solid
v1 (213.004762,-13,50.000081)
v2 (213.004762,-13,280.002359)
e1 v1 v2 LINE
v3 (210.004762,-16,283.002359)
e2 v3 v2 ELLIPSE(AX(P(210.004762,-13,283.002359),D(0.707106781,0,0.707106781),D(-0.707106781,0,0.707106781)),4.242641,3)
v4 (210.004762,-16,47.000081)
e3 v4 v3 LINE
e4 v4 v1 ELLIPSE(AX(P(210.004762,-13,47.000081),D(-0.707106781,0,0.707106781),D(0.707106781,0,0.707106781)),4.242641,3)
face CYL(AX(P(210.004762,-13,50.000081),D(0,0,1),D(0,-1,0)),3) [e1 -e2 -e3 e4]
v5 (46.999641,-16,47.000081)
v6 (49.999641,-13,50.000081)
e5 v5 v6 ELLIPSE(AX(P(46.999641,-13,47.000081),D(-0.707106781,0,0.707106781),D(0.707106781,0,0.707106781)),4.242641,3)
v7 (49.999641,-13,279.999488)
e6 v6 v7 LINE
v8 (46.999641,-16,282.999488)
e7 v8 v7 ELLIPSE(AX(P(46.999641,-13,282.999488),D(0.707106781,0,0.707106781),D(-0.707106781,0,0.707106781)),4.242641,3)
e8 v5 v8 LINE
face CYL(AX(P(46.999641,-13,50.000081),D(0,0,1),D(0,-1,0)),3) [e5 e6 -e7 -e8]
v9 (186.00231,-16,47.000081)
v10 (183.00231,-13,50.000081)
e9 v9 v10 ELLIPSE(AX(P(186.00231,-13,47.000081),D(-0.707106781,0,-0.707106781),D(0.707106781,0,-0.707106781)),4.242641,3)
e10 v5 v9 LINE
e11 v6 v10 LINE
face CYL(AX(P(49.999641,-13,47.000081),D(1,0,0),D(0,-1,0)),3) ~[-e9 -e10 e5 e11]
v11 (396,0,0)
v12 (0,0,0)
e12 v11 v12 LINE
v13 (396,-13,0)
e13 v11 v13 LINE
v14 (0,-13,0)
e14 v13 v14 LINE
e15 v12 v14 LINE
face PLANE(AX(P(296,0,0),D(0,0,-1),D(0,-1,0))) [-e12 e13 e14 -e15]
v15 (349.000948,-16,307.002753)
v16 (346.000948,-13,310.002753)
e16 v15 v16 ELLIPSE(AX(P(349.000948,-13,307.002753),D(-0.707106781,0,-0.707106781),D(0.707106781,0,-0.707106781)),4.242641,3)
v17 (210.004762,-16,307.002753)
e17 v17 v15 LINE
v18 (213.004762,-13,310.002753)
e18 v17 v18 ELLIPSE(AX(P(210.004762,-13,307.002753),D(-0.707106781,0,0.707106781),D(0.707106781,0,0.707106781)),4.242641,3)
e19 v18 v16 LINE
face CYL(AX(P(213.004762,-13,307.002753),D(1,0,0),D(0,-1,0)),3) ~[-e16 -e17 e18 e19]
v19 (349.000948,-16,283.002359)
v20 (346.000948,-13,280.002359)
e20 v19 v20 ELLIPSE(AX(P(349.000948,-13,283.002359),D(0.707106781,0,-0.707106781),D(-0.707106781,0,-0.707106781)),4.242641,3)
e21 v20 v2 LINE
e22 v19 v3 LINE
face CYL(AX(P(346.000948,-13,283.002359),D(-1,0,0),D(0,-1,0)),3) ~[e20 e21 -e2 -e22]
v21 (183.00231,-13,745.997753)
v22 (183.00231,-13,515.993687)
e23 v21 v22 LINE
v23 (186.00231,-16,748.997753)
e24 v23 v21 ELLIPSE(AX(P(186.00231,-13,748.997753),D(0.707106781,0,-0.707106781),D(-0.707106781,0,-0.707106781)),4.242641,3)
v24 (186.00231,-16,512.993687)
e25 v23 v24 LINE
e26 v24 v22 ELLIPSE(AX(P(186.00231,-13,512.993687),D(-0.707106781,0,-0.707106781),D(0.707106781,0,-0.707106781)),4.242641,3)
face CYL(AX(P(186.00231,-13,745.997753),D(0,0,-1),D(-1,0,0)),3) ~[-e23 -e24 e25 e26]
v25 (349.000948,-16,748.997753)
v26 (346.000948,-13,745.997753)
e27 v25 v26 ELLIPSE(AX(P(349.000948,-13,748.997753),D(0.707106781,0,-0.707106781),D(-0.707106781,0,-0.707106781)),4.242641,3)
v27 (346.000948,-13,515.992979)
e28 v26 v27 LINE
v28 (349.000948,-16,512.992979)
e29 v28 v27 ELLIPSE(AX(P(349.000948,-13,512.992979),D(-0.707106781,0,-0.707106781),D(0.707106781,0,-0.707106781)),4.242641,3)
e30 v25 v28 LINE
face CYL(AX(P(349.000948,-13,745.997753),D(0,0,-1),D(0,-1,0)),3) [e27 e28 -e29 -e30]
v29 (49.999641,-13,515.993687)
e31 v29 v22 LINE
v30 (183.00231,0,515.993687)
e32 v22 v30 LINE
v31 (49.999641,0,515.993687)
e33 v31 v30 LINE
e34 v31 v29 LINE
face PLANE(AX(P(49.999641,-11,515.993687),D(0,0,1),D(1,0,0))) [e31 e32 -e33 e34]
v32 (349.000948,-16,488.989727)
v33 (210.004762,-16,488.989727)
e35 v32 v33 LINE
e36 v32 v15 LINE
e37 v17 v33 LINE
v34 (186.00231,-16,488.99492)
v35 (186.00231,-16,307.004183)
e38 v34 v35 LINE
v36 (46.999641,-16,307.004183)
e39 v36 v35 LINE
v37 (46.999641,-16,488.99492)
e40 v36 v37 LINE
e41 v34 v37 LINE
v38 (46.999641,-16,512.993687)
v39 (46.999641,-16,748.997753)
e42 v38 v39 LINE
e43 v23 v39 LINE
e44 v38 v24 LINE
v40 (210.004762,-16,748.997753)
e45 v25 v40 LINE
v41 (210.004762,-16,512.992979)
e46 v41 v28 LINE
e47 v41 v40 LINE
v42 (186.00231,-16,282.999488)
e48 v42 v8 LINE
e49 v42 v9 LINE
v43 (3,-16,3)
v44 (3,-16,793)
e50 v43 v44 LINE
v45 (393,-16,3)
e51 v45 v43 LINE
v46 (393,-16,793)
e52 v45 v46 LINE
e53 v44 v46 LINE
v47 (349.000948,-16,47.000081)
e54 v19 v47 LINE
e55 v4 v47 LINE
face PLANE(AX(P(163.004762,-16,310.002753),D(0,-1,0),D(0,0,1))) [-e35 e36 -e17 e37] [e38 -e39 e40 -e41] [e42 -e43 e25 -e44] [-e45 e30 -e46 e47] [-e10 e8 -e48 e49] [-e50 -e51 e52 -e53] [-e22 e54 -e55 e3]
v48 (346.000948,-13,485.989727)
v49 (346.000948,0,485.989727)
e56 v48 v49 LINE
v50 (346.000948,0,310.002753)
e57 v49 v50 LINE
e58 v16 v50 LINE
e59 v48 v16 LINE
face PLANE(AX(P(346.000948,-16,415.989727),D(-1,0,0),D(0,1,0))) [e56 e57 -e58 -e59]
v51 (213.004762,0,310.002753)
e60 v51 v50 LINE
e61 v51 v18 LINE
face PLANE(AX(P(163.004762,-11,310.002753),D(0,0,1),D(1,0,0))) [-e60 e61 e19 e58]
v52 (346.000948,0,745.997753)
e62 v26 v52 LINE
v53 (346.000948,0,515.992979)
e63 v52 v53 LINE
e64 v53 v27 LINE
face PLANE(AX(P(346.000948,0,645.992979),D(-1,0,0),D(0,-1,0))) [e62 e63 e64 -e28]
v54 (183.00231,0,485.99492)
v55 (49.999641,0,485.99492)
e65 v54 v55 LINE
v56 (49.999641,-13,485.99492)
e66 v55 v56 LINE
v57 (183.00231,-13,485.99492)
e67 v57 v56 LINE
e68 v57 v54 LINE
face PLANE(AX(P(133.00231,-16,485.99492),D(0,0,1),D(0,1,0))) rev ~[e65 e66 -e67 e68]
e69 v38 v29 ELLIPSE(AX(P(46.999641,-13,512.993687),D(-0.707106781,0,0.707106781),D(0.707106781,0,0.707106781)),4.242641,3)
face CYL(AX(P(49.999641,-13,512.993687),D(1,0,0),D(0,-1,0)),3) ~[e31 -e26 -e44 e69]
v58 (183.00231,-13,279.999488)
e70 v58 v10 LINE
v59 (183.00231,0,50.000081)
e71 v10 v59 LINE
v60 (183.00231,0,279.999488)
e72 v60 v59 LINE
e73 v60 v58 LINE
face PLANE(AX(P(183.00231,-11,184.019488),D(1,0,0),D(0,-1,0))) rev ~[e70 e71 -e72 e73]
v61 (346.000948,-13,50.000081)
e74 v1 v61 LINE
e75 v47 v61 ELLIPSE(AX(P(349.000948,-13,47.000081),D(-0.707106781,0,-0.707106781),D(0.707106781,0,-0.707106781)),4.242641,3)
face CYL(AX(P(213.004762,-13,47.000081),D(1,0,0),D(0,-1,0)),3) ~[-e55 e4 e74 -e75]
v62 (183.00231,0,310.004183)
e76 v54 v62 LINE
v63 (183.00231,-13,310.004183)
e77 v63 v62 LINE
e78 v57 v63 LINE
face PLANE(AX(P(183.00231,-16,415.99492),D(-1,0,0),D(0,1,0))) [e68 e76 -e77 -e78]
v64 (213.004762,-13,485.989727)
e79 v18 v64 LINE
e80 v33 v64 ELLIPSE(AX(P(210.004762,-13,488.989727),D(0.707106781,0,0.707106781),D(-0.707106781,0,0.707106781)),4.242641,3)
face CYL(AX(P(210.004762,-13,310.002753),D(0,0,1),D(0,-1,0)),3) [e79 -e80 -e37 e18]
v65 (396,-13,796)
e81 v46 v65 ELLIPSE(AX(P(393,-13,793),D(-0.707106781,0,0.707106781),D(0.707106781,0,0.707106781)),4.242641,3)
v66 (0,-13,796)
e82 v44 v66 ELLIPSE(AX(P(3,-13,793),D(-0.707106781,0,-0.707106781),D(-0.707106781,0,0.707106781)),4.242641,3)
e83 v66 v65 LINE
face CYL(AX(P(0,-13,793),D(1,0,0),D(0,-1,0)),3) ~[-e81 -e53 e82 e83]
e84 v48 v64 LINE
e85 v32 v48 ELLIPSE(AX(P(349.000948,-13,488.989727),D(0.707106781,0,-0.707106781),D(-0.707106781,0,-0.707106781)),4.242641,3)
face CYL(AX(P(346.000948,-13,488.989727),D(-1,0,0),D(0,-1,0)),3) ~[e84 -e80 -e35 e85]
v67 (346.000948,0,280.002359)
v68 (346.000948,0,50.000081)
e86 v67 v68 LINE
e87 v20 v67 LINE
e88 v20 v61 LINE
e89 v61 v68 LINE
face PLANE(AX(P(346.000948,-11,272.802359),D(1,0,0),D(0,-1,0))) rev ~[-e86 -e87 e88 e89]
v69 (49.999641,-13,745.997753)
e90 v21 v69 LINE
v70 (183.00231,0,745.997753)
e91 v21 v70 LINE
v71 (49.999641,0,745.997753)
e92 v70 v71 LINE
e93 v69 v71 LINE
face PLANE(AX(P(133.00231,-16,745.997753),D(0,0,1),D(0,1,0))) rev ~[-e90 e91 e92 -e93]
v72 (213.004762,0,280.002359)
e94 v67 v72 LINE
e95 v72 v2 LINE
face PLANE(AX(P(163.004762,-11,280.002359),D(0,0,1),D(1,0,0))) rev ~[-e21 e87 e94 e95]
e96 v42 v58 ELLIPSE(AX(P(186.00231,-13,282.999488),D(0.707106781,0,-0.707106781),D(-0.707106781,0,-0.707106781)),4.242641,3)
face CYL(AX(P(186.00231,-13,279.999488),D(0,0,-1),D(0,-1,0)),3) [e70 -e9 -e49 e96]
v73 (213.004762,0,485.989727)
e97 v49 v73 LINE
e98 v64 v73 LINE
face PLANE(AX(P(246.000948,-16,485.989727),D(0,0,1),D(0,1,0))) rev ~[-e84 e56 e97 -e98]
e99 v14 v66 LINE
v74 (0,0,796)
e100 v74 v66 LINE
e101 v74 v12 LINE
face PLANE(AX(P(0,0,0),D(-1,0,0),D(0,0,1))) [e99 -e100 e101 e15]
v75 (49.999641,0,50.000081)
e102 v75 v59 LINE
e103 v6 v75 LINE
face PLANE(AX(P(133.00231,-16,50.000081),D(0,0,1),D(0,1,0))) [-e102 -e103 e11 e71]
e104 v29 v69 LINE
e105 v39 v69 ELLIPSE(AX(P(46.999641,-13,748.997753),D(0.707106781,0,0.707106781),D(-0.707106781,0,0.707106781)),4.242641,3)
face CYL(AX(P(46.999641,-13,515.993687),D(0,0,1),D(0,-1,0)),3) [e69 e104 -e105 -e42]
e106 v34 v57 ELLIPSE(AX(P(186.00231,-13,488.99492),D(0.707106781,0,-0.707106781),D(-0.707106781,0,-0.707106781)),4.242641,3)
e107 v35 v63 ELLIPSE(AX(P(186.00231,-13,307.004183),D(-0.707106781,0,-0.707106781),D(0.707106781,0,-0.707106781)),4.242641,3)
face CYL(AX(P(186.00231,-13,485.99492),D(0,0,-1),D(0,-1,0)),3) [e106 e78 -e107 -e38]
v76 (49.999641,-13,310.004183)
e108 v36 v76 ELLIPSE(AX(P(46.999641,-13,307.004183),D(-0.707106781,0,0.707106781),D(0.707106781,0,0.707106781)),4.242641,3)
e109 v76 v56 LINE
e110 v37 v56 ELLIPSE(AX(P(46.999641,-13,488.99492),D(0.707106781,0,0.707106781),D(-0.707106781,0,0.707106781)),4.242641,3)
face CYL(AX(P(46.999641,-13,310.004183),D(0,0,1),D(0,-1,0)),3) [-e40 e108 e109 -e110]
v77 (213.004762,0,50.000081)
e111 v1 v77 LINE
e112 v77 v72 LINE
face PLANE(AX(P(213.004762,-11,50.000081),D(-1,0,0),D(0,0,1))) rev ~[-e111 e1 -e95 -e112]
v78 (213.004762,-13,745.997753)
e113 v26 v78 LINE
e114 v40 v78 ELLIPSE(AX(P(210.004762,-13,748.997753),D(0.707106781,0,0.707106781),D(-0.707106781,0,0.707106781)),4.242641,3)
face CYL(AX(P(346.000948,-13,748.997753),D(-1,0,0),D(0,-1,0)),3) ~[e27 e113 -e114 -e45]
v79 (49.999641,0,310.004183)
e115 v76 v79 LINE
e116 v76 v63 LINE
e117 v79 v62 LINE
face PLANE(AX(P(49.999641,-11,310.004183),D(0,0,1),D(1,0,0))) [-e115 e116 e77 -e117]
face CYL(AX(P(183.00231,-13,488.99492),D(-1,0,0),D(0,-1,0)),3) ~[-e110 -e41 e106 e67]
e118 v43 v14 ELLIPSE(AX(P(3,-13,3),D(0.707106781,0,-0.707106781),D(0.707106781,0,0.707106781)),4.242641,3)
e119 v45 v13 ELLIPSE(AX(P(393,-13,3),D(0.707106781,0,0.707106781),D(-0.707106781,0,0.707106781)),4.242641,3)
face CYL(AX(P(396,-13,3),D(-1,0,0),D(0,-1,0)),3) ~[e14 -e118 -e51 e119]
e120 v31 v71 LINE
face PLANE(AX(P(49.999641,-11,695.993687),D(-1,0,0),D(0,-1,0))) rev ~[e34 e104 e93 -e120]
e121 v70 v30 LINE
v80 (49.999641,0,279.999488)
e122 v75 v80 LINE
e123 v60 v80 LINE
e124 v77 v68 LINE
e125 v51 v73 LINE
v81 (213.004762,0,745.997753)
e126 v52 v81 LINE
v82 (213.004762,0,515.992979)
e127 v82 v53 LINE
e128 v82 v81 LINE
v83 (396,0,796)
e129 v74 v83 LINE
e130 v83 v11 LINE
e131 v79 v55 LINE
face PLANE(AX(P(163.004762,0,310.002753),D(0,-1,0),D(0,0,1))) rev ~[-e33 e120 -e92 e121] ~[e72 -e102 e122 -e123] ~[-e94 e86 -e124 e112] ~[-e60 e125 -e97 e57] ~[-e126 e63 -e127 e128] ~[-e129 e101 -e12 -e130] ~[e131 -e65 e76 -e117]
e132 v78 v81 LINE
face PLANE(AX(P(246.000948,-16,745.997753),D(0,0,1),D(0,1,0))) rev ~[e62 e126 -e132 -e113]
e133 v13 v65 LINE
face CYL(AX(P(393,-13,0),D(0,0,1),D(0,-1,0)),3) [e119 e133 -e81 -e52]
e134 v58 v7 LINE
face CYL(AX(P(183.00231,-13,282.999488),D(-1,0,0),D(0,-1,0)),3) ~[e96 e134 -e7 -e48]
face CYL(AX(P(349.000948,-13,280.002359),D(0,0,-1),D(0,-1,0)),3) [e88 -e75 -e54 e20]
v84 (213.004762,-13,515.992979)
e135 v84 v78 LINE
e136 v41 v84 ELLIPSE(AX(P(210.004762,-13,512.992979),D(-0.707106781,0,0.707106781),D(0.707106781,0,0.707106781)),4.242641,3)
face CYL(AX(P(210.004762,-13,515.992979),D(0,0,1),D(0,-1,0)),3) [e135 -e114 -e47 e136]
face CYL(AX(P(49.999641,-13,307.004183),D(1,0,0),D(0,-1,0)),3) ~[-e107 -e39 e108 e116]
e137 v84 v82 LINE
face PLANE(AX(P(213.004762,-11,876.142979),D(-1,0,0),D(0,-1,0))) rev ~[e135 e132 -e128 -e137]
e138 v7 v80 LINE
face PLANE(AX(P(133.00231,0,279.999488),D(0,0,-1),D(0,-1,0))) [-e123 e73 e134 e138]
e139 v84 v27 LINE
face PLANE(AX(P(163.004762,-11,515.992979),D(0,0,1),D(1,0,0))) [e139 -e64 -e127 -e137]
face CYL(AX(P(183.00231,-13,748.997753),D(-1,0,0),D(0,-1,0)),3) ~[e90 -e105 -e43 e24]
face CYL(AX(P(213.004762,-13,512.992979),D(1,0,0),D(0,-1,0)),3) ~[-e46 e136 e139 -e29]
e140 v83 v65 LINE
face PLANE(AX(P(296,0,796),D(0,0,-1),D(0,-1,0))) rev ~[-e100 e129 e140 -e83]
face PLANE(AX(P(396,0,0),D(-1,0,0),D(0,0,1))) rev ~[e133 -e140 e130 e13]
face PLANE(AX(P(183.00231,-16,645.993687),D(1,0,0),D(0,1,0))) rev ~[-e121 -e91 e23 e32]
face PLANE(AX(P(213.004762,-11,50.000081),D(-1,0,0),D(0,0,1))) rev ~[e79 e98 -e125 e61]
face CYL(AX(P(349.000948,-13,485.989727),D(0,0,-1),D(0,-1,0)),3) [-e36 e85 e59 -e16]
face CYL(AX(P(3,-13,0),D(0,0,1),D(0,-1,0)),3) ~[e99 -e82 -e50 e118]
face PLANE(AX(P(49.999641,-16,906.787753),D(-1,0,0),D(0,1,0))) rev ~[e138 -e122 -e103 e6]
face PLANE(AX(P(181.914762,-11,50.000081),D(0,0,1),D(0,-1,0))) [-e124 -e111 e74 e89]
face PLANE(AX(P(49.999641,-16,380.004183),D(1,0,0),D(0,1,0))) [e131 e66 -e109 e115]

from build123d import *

# Parameters (mm, degrees)
F0_W      = 28.8499742746
F0_H      = 37.8827601671
F1_DEPTH  = 16
F2_DEPTH  = 296
F3_DEPTH  = 996
F4_W      = 199.8313069344
F4_H      = 801.1276721954
F5_DEPTH  = 5
F6_DEPTH  = 39.21
F7_DEPTH  = 2.24
F8_DEPTH  = 55.66
F9_DEPTH  = 1.59
F10_W     = 54.77245152
F10_H     = 895.9976721954
F11_DEPTH = 5
F12_DEPTH = 5.86
F13_DEPTH = 18.91
F14_W     = 83.0026693535
F14_H     = 34.9487662315
F14_H_2   = 55.274695158
F15_W     = 82.9961860609
F15_H     = 44.8832511902
F15_H_2   = 52.5203943253
F16_DEPTH = 5
F17_DEPTH = 300
F18_DEPTH = 300
F19_DEPTH = 324.79
F20_DEPTH = 324.79
F21_DEPTH = 250
F22_DEPTH = 250
F23_DEPTH = 100
F24_DEPTH = 100
F25_DEPTH = 50
F26_DEPTH = 50
F27_DEPTH = 134.02
F28_DEPTH = 100
F29_DEPTH = 100
F30_DEPTH = 100
F31_DEPTH = 50
F32_DEPTH = 54.95
F33_DEPTH = 50
F34_DEPTH = 109.29
F35_DEPTH = 14.88
F36_DEPTH = 230.15
F37_DEPTH = 230.15
F38_DEPTH = 22.52
F39_DEPTH = 77.2
F40_DEPTH = 77.2
F41_DEPTH = 11
F42_DEPTH = 200
F43_DEPTH = 200
F44_DEPTH = 200
F45_DEPTH = 70
F46_DEPTH = 70
F47_DEPTH = 70
F48_DEPTH = 70
F49_DEPTH = 100
F50_DEPTH = 50
F51_DEPTH = 100
F52_DEPTH = 50
F53_R     = 3


with BuildPart() as f1:
    # F0 (on Front) → F1 (new body)
    with BuildSketch(Plane.XZ):
        with Locations((14.4249871373, 18.9413800836)):
            Rectangle(F0_W, F0_H)
    extrude(amount=F1_DEPTH)

    # F2 (add): a face of the model
    f2_faces = [f1.faces().sort_by_distance(p)[0] for p in [
        (0, -8, 18.9413800836),
    ]]
    extrude(f2_faces, amount=-F2_DEPTH)

    # F3 (add): a face of the model
    f3_faces = [f1.faces().sort_by_distance(p)[0] for p in [
        (148, -8, 0),
    ]]
    extrude(f3_faces, amount=-F3_DEPTH)

    # F4 (on face) → F5 (cut)
    with BuildSketch(Plane.XZ.offset(16)):
        with Locations((148.3252942562, 506.2239170074)):
            Rectangle(F4_W, F4_H)
    extrude(amount=-F5_DEPTH, mode=Mode.SUBTRACT)

    # F6 (cut): a face of the model
    f6_faces = [f1.faces().sort_by_distance(p)[0] for p in [
        (148.3252942562, -13.5, 906.7877531052),
    ]]
    extrude(f6_faces, amount=-F6_DEPTH, mode=Mode.SUBTRACT)

    # F7 (add): a face of the model
    f7_faces = [f1.faces().sort_by_distance(p)[0] for p in [
        (248.2409477234, -13.5, 525.8289170074),
    ]]
    extrude(f7_faces, amount=F7_DEPTH)

    # F8 (cut): a face of the model
    f8_faces = [f1.faces().sort_by_distance(p)[0] for p in [
        (147.2052942562, -13.5, 105.6600809097),
    ]]
    extrude(f8_faces, amount=-F8_DEPTH, mode=Mode.SUBTRACT)

    # F9 (add): a face of the model
    f9_faces = [f1.faces().sort_by_distance(p)[0] for p in [
        (48.409640789, -13.5, 497.9989170074),
    ]]
    extrude(f9_faces, amount=F9_DEPTH)

    # F10 (on face) → F11 (join)
    with BuildSketch(Plane.XZ.offset(11)):
        with Locations((154.5285359025, 497.9989170074)):
            Rectangle(F10_W, F10_H)
    extrude(amount=F11_DEPTH)

    # F12 (cut): a face of the model
    f12_faces = [f1.faces().sort_by_distance(p)[0] for p in [
        (127.1423101425, -13.5, 497.9989170074),
    ]]
    extrude(f12_faces, amount=-F12_DEPTH, mode=Mode.SUBTRACT)

    # F13 (cut): a face of the model
    f13_faces = [f1.faces().sort_by_distance(p)[0] for p in [
        (181.9147616625, -13.5, 497.9989170074),
    ]]
    extrude(f13_faces, amount=-F13_DEPTH, mode=Mode.SUBTRACT)

    # F14 (on face) + F15 (on face) → F16 (join)
    with BuildSketch(Plane.XZ.offset(11)):
        with Locations((91.5009754658, 853.3093035221)):
            Rectangle(F14_W, F14_H)
        with Locations((91.5009754658, 511.6568356752)):
            Rectangle(F14_W, F14_H_2)
    with BuildSketch(Plane.XZ.offset(11)):
        with Locations((204.5028546929, 853.7013530731)):
            Rectangle(F15_W, F15_H)
        with Locations((204.5028546929, 576.5425562859)):
            Rectangle(F15_W, F15_H_2)
    extrude(amount=F16_DEPTH)

    # F17 (add): faces of the model
    f17_faces = [f1.faces().sort_by_distance(p)[0] for p in [
        (204.5028546929, -13.5, 550.2823591232),
        (91.5009754658, -13.5, 484.0194880962),
    ]]
    extrude(f17_faces, amount=F17_DEPTH)

    # F18 (cut): faces of the model
    f18_faces = [f1.faces().sort_by_distance(p)[0] for p in [
        (91.5009754658, -13.5, 539.2941832542),
        (204.5028546929, -13.5, 602.8027534485),
    ]]
    extrude(f18_faces, amount=-F18_DEPTH, mode=Mode.SUBTRACT)

    # F19 (add): a face of the model
    f19_faces = [f1.faces().sort_by_distance(p)[0] for p in [
        (91.5009754658, -13.5, 835.8349204063),
    ]]
    extrude(f19_faces, amount=F19_DEPTH)

    # F20 (cut): a face of the model
    f20_faces = [f1.faces().sort_by_distance(p)[0] for p in [
        (91.5009754658, -13.5, 870.7836866379),
    ]]
    extrude(f20_faces, amount=-F20_DEPTH, mode=Mode.SUBTRACT)

    # F21 (add): a face of the model
    f21_faces = [f1.faces().sort_by_distance(p)[0] for p in [
        (91.5009754658, -13.5, 239.2941832542),
    ]]
    extrude(f21_faces, amount=F21_DEPTH)

    # F22 (cut): a face of the model
    f22_faces = [f1.faces().sort_by_distance(p)[0] for p in [
        (91.5009754658, -13.5, 184.0194880962),
    ]]
    extrude(f22_faces, amount=-F22_DEPTH, mode=Mode.SUBTRACT)

    # F23 (add): a face of the model
    f23_faces = [f1.faces().sort_by_distance(p)[0] for p in [
        (91.5009754658, -13.5, 545.9936866379),
    ]]
    extrude(f23_faces, amount=F23_DEPTH)

    # F24 (cut): a face of the model
    f24_faces = [f1.faces().sort_by_distance(p)[0] for p in [
        (91.5009754658, -13.5, 511.0449204063),
    ]]
    extrude(f24_faces, amount=-F24_DEPTH, mode=Mode.SUBTRACT)

    # F25 (add): a face of the model
    f25_faces = [f1.faces().sort_by_distance(p)[0] for p in [
        (91.5009754658, -13.5, 645.9936866379),
    ]]
    extrude(f25_faces, amount=F25_DEPTH)

    # F26 (cut): a face of the model
    f26_faces = [f1.faces().sort_by_distance(p)[0] for p in [
        (91.5009754658, -13.5, 611.0449204063),
    ]]
    extrude(f26_faces, amount=-F26_DEPTH, mode=Mode.SUBTRACT)

    # F27 (add): a face of the model
    f27_faces = [f1.faces().sort_by_distance(p)[0] for p in [
        (91.5009754658, -13.5, 434.0194880962),
    ]]
    extrude(f27_faces, amount=F27_DEPTH)

    # F28 (cut): a face of the model
    f28_faces = [f1.faces().sort_by_distance(p)[0] for p in [
        (91.5009754658, -13.5, 299.9994880962),
    ]]
    extrude(f28_faces, amount=-F28_DEPTH, mode=Mode.SUBTRACT)

    # F29 (add): a face of the model
    f29_faces = [f1.faces().sort_by_distance(p)[0] for p in [
        (91.5009754658, -13.5, 661.0449204063),
    ]]
    extrude(f29_faces, amount=F29_DEPTH)

    # F30 (cut): a face of the model
    f30_faces = [f1.faces().sort_by_distance(p)[0] for p in [
        (91.5009754658, -13.5, 695.9936866379),
    ]]
    extrude(f30_faces, amount=-F30_DEPTH, mode=Mode.SUBTRACT)

    # F31 (add): a face of the model
    f31_faces = [f1.faces().sort_by_distance(p)[0] for p in [
        (91.5009754658, -13.5, 595.9936866379),
    ]]
    extrude(f31_faces, amount=F31_DEPTH)

    # F32 (cut): a face of the model
    f32_faces = [f1.faces().sort_by_distance(p)[0] for p in [
        (91.5009754658, -13.5, 561.0449204063),
    ]]
    extrude(f32_faces, amount=-F32_DEPTH, mode=Mode.SUBTRACT)

    # F33 (add): a face of the model
    f33_faces = [f1.faces().sort_by_distance(p)[0] for p in [
        (91.5009754658, -13.5, 399.9994880962),
    ]]
    extrude(f33_faces, amount=F33_DEPTH)

    # F34 (cut): a face of the model
    f34_faces = [f1.faces().sort_by_distance(p)[0] for p in [
        (91.5009754658, -13.5, 489.2941832542),
    ]]
    extrude(f34_faces, amount=-F34_DEPTH, mode=Mode.SUBTRACT)

    # F35 (cut): a face of the model
    f35_faces = [f1.faces().sort_by_distance(p)[0] for p in [
        (204.5028546929, -13.5, 831.259727478),
    ]]
    extrude(f35_faces, amount=-F35_DEPTH, mode=Mode.SUBTRACT)

    # F36 (add): a face of the model
    f36_faces = [f1.faces().sort_by_distance(p)[0] for p in [
        (204.5028546929, -13.5, 846.139727478),
    ]]
    extrude(f36_faces, amount=F36_DEPTH)

    # F37 (cut): a face of the model
    f37_faces = [f1.faces().sort_by_distance(p)[0] for p in [
        (204.5028546929, -13.5, 876.1429786682),
    ]]
    extrude(f37_faces, amount=-F37_DEPTH, mode=Mode.SUBTRACT)

    # F38 (cut): a face of the model
    f38_faces = [f1.faces().sort_by_distance(p)[0] for p in [
        (204.5028546929, -13.5, 250.2823591232),
    ]]
    extrude(f38_faces, amount=-F38_DEPTH, mode=Mode.SUBTRACT)

    # F39 (add): a face of the model
    f39_faces = [f1.faces().sort_by_distance(p)[0] for p in [
        (204.5028546929, -13.5, 302.8027534485),
    ]]
    extrude(f39_faces, amount=F39_DEPTH)

    # F40 (cut): a face of the model
    f40_faces = [f1.faces().sort_by_distance(p)[0] for p in [
        (204.5028546929, -13.5, 272.8023591232),
    ]]
    extrude(f40_faces, amount=-F40_DEPTH, mode=Mode.SUBTRACT)

    # F41 (cut): faces of the model
    f41_faces = [f1.faces().sort_by_distance(p)[0] for p in [
        (91.5009754658, -11, 795.9957198715),
        (204.5028546929, -11, 795.9953658867),
        (204.5028546929, -11, 497.9962404633),
        (91.5009754658, -11, 497.9995518303),
        (91.5009754658, -11, 199.999784503),
        (204.5028546929, -11, 200.0012200165),
    ]]
    extrude(f41_faces, amount=-F41_DEPTH, mode=Mode.SUBTRACT)

    # F42 (add): faces of the model
    f42_faces = [f1.faces().sort_by_distance(p)[0] for p in [
        (204.5028546929, -8, 615.989727478),
        (91.5009754658, -8, 615.9949204063),
    ]]
    extrude(f42_faces, amount=F42_DEPTH)

    # F43 (add): faces of the model
    f43_faces = [f1.faces().sort_by_distance(p)[0] for p in [
        (91.5009754658, -8, 945.9977531052),
        (204.5028546929, -8, 945.9977531052),
    ]]
    extrude(f43_faces, amount=F43_DEPTH)

    # F44 (cut): faces of the model
    f44_faces = [f1.faces().sort_by_distance(p)[0] for p in [
        (148, -8, 996),
        (91.5009754658, -8, 645.9936866379),
        (204.5028546929, -8, 645.9929786682),
    ]]
    extrude(f44_faces, amount=-F44_DEPTH, mode=Mode.SUBTRACT)

    # F45 (add): faces of the model
    f45_faces = [f1.faces().sort_by_distance(p)[0] for p in [
        (204.5028546929, -8, 350.0023591232),
        (91.5009754658, -8, 349.9994880962),
    ]]
    extrude(f45_faces, amount=F45_DEPTH)

    # F46 (cut): faces of the model
    f46_faces = [f1.faces().sort_by_distance(p)[0] for p in [
        (204.5028546929, -8, 380.0027534485),
        (91.5009754658, -8, 380.0041832542),
    ]]
    extrude(f46_faces, amount=-F46_DEPTH, mode=Mode.SUBTRACT)

    # F47 (add): faces of the model
    f47_faces = [f1.faces().sort_by_distance(p)[0] for p in [
        (204.5028546929, -8, 445.9929786682),
        (91.5009754658, -8, 445.9936866379),
    ]]
    extrude(f47_faces, amount=F47_DEPTH)

    # F48 (cut): faces of the model
    f48_faces = [f1.faces().sort_by_distance(p)[0] for p in [
        (204.5028546929, -8, 415.989727478),
        (91.5009754658, -8, 415.9949204063),
    ]]
    extrude(f48_faces, amount=-F48_DEPTH, mode=Mode.SUBTRACT)

    # F49 (add): a face of the model
    f49_faces = [f1.faces().sort_by_distance(p)[0] for p in [
        (296, -8, 398),
    ]]
    extrude(f49_faces, amount=F49_DEPTH)

    # F50 (add): faces of the model
    f50_faces = [f1.faces().sort_by_distance(p)[0] for p in [
        (163.0047616625, -8, 397.9962404633),
        (163.0047616625, -8, 165.0012200165),
        (163.0047616625, -8, 630.9953658867),
    ]]
    extrude(f50_faces, amount=F50_DEPTH)

    # F51 (cut): faces of the model
    f51_faces = [f1.faces().sort_by_distance(p)[0] for p in [
        (246.0009477234, -8, 630.9953658867),
        (246.0009477234, -8, 397.9962404633),
        (246.0009477234, -8, 165.0012200165),
    ]]
    extrude(f51_faces, amount=-F51_DEPTH, mode=Mode.SUBTRACT)

    # F52 (cut): faces of the model
    f52_faces = [f1.faces().sort_by_distance(p)[0] for p in [
        (133.0023101425, -8, 397.9995518303),
        (133.0023101425, -8, 630.9957198715),
        (133.0023101425, -8, 164.999784503),
    ]]
    extrude(f52_faces, amount=-F52_DEPTH, mode=Mode.SUBTRACT)

    # F53
    f53_edges = [f1.edges().sort_by_distance(p)[0] for p in [
        (0, -16, 398),
        (198, -16, 0),
        (396, -16, 398),
        (198, -16, 796),
        (116.500975, -16, 279.999488),
        (183.00231, -16, 164.999785),
        (116.500975, -16, 50.000081),
        (49.999641, -16, 164.999785),
        (279.502855, -16, 280.002359),
        (346.000948, -16, 165.00122),
        (279.502855, -16, 50.000081),
        (213.004762, -16, 165.00122),
        (279.502855, -16, 310.002753),
        (213.004762, -16, 397.99624),
        (279.502855, -16, 485.989727),
        (346.000948, -16, 397.99624),
        (116.500975, -16, 310.004183),
        (49.999641, -16, 397.999552),
        (116.500975, -16, 485.99492),
        (183.00231, -16, 397.999552),
        (116.500975, -16, 515.993687),
        (49.999641, -16, 630.99572),
        (116.500975, -16, 745.997753),
        (183.00231, -16, 630.99572),
        (213.004762, -16, 630.995366),
        (279.502855, -16, 745.997753),
        (346.000948, -16, 630.995366),
        (279.502855, -16, 515.992979),
    ]]
    fillet(f53_edges, radius=F53_R)


solid = f1.part
